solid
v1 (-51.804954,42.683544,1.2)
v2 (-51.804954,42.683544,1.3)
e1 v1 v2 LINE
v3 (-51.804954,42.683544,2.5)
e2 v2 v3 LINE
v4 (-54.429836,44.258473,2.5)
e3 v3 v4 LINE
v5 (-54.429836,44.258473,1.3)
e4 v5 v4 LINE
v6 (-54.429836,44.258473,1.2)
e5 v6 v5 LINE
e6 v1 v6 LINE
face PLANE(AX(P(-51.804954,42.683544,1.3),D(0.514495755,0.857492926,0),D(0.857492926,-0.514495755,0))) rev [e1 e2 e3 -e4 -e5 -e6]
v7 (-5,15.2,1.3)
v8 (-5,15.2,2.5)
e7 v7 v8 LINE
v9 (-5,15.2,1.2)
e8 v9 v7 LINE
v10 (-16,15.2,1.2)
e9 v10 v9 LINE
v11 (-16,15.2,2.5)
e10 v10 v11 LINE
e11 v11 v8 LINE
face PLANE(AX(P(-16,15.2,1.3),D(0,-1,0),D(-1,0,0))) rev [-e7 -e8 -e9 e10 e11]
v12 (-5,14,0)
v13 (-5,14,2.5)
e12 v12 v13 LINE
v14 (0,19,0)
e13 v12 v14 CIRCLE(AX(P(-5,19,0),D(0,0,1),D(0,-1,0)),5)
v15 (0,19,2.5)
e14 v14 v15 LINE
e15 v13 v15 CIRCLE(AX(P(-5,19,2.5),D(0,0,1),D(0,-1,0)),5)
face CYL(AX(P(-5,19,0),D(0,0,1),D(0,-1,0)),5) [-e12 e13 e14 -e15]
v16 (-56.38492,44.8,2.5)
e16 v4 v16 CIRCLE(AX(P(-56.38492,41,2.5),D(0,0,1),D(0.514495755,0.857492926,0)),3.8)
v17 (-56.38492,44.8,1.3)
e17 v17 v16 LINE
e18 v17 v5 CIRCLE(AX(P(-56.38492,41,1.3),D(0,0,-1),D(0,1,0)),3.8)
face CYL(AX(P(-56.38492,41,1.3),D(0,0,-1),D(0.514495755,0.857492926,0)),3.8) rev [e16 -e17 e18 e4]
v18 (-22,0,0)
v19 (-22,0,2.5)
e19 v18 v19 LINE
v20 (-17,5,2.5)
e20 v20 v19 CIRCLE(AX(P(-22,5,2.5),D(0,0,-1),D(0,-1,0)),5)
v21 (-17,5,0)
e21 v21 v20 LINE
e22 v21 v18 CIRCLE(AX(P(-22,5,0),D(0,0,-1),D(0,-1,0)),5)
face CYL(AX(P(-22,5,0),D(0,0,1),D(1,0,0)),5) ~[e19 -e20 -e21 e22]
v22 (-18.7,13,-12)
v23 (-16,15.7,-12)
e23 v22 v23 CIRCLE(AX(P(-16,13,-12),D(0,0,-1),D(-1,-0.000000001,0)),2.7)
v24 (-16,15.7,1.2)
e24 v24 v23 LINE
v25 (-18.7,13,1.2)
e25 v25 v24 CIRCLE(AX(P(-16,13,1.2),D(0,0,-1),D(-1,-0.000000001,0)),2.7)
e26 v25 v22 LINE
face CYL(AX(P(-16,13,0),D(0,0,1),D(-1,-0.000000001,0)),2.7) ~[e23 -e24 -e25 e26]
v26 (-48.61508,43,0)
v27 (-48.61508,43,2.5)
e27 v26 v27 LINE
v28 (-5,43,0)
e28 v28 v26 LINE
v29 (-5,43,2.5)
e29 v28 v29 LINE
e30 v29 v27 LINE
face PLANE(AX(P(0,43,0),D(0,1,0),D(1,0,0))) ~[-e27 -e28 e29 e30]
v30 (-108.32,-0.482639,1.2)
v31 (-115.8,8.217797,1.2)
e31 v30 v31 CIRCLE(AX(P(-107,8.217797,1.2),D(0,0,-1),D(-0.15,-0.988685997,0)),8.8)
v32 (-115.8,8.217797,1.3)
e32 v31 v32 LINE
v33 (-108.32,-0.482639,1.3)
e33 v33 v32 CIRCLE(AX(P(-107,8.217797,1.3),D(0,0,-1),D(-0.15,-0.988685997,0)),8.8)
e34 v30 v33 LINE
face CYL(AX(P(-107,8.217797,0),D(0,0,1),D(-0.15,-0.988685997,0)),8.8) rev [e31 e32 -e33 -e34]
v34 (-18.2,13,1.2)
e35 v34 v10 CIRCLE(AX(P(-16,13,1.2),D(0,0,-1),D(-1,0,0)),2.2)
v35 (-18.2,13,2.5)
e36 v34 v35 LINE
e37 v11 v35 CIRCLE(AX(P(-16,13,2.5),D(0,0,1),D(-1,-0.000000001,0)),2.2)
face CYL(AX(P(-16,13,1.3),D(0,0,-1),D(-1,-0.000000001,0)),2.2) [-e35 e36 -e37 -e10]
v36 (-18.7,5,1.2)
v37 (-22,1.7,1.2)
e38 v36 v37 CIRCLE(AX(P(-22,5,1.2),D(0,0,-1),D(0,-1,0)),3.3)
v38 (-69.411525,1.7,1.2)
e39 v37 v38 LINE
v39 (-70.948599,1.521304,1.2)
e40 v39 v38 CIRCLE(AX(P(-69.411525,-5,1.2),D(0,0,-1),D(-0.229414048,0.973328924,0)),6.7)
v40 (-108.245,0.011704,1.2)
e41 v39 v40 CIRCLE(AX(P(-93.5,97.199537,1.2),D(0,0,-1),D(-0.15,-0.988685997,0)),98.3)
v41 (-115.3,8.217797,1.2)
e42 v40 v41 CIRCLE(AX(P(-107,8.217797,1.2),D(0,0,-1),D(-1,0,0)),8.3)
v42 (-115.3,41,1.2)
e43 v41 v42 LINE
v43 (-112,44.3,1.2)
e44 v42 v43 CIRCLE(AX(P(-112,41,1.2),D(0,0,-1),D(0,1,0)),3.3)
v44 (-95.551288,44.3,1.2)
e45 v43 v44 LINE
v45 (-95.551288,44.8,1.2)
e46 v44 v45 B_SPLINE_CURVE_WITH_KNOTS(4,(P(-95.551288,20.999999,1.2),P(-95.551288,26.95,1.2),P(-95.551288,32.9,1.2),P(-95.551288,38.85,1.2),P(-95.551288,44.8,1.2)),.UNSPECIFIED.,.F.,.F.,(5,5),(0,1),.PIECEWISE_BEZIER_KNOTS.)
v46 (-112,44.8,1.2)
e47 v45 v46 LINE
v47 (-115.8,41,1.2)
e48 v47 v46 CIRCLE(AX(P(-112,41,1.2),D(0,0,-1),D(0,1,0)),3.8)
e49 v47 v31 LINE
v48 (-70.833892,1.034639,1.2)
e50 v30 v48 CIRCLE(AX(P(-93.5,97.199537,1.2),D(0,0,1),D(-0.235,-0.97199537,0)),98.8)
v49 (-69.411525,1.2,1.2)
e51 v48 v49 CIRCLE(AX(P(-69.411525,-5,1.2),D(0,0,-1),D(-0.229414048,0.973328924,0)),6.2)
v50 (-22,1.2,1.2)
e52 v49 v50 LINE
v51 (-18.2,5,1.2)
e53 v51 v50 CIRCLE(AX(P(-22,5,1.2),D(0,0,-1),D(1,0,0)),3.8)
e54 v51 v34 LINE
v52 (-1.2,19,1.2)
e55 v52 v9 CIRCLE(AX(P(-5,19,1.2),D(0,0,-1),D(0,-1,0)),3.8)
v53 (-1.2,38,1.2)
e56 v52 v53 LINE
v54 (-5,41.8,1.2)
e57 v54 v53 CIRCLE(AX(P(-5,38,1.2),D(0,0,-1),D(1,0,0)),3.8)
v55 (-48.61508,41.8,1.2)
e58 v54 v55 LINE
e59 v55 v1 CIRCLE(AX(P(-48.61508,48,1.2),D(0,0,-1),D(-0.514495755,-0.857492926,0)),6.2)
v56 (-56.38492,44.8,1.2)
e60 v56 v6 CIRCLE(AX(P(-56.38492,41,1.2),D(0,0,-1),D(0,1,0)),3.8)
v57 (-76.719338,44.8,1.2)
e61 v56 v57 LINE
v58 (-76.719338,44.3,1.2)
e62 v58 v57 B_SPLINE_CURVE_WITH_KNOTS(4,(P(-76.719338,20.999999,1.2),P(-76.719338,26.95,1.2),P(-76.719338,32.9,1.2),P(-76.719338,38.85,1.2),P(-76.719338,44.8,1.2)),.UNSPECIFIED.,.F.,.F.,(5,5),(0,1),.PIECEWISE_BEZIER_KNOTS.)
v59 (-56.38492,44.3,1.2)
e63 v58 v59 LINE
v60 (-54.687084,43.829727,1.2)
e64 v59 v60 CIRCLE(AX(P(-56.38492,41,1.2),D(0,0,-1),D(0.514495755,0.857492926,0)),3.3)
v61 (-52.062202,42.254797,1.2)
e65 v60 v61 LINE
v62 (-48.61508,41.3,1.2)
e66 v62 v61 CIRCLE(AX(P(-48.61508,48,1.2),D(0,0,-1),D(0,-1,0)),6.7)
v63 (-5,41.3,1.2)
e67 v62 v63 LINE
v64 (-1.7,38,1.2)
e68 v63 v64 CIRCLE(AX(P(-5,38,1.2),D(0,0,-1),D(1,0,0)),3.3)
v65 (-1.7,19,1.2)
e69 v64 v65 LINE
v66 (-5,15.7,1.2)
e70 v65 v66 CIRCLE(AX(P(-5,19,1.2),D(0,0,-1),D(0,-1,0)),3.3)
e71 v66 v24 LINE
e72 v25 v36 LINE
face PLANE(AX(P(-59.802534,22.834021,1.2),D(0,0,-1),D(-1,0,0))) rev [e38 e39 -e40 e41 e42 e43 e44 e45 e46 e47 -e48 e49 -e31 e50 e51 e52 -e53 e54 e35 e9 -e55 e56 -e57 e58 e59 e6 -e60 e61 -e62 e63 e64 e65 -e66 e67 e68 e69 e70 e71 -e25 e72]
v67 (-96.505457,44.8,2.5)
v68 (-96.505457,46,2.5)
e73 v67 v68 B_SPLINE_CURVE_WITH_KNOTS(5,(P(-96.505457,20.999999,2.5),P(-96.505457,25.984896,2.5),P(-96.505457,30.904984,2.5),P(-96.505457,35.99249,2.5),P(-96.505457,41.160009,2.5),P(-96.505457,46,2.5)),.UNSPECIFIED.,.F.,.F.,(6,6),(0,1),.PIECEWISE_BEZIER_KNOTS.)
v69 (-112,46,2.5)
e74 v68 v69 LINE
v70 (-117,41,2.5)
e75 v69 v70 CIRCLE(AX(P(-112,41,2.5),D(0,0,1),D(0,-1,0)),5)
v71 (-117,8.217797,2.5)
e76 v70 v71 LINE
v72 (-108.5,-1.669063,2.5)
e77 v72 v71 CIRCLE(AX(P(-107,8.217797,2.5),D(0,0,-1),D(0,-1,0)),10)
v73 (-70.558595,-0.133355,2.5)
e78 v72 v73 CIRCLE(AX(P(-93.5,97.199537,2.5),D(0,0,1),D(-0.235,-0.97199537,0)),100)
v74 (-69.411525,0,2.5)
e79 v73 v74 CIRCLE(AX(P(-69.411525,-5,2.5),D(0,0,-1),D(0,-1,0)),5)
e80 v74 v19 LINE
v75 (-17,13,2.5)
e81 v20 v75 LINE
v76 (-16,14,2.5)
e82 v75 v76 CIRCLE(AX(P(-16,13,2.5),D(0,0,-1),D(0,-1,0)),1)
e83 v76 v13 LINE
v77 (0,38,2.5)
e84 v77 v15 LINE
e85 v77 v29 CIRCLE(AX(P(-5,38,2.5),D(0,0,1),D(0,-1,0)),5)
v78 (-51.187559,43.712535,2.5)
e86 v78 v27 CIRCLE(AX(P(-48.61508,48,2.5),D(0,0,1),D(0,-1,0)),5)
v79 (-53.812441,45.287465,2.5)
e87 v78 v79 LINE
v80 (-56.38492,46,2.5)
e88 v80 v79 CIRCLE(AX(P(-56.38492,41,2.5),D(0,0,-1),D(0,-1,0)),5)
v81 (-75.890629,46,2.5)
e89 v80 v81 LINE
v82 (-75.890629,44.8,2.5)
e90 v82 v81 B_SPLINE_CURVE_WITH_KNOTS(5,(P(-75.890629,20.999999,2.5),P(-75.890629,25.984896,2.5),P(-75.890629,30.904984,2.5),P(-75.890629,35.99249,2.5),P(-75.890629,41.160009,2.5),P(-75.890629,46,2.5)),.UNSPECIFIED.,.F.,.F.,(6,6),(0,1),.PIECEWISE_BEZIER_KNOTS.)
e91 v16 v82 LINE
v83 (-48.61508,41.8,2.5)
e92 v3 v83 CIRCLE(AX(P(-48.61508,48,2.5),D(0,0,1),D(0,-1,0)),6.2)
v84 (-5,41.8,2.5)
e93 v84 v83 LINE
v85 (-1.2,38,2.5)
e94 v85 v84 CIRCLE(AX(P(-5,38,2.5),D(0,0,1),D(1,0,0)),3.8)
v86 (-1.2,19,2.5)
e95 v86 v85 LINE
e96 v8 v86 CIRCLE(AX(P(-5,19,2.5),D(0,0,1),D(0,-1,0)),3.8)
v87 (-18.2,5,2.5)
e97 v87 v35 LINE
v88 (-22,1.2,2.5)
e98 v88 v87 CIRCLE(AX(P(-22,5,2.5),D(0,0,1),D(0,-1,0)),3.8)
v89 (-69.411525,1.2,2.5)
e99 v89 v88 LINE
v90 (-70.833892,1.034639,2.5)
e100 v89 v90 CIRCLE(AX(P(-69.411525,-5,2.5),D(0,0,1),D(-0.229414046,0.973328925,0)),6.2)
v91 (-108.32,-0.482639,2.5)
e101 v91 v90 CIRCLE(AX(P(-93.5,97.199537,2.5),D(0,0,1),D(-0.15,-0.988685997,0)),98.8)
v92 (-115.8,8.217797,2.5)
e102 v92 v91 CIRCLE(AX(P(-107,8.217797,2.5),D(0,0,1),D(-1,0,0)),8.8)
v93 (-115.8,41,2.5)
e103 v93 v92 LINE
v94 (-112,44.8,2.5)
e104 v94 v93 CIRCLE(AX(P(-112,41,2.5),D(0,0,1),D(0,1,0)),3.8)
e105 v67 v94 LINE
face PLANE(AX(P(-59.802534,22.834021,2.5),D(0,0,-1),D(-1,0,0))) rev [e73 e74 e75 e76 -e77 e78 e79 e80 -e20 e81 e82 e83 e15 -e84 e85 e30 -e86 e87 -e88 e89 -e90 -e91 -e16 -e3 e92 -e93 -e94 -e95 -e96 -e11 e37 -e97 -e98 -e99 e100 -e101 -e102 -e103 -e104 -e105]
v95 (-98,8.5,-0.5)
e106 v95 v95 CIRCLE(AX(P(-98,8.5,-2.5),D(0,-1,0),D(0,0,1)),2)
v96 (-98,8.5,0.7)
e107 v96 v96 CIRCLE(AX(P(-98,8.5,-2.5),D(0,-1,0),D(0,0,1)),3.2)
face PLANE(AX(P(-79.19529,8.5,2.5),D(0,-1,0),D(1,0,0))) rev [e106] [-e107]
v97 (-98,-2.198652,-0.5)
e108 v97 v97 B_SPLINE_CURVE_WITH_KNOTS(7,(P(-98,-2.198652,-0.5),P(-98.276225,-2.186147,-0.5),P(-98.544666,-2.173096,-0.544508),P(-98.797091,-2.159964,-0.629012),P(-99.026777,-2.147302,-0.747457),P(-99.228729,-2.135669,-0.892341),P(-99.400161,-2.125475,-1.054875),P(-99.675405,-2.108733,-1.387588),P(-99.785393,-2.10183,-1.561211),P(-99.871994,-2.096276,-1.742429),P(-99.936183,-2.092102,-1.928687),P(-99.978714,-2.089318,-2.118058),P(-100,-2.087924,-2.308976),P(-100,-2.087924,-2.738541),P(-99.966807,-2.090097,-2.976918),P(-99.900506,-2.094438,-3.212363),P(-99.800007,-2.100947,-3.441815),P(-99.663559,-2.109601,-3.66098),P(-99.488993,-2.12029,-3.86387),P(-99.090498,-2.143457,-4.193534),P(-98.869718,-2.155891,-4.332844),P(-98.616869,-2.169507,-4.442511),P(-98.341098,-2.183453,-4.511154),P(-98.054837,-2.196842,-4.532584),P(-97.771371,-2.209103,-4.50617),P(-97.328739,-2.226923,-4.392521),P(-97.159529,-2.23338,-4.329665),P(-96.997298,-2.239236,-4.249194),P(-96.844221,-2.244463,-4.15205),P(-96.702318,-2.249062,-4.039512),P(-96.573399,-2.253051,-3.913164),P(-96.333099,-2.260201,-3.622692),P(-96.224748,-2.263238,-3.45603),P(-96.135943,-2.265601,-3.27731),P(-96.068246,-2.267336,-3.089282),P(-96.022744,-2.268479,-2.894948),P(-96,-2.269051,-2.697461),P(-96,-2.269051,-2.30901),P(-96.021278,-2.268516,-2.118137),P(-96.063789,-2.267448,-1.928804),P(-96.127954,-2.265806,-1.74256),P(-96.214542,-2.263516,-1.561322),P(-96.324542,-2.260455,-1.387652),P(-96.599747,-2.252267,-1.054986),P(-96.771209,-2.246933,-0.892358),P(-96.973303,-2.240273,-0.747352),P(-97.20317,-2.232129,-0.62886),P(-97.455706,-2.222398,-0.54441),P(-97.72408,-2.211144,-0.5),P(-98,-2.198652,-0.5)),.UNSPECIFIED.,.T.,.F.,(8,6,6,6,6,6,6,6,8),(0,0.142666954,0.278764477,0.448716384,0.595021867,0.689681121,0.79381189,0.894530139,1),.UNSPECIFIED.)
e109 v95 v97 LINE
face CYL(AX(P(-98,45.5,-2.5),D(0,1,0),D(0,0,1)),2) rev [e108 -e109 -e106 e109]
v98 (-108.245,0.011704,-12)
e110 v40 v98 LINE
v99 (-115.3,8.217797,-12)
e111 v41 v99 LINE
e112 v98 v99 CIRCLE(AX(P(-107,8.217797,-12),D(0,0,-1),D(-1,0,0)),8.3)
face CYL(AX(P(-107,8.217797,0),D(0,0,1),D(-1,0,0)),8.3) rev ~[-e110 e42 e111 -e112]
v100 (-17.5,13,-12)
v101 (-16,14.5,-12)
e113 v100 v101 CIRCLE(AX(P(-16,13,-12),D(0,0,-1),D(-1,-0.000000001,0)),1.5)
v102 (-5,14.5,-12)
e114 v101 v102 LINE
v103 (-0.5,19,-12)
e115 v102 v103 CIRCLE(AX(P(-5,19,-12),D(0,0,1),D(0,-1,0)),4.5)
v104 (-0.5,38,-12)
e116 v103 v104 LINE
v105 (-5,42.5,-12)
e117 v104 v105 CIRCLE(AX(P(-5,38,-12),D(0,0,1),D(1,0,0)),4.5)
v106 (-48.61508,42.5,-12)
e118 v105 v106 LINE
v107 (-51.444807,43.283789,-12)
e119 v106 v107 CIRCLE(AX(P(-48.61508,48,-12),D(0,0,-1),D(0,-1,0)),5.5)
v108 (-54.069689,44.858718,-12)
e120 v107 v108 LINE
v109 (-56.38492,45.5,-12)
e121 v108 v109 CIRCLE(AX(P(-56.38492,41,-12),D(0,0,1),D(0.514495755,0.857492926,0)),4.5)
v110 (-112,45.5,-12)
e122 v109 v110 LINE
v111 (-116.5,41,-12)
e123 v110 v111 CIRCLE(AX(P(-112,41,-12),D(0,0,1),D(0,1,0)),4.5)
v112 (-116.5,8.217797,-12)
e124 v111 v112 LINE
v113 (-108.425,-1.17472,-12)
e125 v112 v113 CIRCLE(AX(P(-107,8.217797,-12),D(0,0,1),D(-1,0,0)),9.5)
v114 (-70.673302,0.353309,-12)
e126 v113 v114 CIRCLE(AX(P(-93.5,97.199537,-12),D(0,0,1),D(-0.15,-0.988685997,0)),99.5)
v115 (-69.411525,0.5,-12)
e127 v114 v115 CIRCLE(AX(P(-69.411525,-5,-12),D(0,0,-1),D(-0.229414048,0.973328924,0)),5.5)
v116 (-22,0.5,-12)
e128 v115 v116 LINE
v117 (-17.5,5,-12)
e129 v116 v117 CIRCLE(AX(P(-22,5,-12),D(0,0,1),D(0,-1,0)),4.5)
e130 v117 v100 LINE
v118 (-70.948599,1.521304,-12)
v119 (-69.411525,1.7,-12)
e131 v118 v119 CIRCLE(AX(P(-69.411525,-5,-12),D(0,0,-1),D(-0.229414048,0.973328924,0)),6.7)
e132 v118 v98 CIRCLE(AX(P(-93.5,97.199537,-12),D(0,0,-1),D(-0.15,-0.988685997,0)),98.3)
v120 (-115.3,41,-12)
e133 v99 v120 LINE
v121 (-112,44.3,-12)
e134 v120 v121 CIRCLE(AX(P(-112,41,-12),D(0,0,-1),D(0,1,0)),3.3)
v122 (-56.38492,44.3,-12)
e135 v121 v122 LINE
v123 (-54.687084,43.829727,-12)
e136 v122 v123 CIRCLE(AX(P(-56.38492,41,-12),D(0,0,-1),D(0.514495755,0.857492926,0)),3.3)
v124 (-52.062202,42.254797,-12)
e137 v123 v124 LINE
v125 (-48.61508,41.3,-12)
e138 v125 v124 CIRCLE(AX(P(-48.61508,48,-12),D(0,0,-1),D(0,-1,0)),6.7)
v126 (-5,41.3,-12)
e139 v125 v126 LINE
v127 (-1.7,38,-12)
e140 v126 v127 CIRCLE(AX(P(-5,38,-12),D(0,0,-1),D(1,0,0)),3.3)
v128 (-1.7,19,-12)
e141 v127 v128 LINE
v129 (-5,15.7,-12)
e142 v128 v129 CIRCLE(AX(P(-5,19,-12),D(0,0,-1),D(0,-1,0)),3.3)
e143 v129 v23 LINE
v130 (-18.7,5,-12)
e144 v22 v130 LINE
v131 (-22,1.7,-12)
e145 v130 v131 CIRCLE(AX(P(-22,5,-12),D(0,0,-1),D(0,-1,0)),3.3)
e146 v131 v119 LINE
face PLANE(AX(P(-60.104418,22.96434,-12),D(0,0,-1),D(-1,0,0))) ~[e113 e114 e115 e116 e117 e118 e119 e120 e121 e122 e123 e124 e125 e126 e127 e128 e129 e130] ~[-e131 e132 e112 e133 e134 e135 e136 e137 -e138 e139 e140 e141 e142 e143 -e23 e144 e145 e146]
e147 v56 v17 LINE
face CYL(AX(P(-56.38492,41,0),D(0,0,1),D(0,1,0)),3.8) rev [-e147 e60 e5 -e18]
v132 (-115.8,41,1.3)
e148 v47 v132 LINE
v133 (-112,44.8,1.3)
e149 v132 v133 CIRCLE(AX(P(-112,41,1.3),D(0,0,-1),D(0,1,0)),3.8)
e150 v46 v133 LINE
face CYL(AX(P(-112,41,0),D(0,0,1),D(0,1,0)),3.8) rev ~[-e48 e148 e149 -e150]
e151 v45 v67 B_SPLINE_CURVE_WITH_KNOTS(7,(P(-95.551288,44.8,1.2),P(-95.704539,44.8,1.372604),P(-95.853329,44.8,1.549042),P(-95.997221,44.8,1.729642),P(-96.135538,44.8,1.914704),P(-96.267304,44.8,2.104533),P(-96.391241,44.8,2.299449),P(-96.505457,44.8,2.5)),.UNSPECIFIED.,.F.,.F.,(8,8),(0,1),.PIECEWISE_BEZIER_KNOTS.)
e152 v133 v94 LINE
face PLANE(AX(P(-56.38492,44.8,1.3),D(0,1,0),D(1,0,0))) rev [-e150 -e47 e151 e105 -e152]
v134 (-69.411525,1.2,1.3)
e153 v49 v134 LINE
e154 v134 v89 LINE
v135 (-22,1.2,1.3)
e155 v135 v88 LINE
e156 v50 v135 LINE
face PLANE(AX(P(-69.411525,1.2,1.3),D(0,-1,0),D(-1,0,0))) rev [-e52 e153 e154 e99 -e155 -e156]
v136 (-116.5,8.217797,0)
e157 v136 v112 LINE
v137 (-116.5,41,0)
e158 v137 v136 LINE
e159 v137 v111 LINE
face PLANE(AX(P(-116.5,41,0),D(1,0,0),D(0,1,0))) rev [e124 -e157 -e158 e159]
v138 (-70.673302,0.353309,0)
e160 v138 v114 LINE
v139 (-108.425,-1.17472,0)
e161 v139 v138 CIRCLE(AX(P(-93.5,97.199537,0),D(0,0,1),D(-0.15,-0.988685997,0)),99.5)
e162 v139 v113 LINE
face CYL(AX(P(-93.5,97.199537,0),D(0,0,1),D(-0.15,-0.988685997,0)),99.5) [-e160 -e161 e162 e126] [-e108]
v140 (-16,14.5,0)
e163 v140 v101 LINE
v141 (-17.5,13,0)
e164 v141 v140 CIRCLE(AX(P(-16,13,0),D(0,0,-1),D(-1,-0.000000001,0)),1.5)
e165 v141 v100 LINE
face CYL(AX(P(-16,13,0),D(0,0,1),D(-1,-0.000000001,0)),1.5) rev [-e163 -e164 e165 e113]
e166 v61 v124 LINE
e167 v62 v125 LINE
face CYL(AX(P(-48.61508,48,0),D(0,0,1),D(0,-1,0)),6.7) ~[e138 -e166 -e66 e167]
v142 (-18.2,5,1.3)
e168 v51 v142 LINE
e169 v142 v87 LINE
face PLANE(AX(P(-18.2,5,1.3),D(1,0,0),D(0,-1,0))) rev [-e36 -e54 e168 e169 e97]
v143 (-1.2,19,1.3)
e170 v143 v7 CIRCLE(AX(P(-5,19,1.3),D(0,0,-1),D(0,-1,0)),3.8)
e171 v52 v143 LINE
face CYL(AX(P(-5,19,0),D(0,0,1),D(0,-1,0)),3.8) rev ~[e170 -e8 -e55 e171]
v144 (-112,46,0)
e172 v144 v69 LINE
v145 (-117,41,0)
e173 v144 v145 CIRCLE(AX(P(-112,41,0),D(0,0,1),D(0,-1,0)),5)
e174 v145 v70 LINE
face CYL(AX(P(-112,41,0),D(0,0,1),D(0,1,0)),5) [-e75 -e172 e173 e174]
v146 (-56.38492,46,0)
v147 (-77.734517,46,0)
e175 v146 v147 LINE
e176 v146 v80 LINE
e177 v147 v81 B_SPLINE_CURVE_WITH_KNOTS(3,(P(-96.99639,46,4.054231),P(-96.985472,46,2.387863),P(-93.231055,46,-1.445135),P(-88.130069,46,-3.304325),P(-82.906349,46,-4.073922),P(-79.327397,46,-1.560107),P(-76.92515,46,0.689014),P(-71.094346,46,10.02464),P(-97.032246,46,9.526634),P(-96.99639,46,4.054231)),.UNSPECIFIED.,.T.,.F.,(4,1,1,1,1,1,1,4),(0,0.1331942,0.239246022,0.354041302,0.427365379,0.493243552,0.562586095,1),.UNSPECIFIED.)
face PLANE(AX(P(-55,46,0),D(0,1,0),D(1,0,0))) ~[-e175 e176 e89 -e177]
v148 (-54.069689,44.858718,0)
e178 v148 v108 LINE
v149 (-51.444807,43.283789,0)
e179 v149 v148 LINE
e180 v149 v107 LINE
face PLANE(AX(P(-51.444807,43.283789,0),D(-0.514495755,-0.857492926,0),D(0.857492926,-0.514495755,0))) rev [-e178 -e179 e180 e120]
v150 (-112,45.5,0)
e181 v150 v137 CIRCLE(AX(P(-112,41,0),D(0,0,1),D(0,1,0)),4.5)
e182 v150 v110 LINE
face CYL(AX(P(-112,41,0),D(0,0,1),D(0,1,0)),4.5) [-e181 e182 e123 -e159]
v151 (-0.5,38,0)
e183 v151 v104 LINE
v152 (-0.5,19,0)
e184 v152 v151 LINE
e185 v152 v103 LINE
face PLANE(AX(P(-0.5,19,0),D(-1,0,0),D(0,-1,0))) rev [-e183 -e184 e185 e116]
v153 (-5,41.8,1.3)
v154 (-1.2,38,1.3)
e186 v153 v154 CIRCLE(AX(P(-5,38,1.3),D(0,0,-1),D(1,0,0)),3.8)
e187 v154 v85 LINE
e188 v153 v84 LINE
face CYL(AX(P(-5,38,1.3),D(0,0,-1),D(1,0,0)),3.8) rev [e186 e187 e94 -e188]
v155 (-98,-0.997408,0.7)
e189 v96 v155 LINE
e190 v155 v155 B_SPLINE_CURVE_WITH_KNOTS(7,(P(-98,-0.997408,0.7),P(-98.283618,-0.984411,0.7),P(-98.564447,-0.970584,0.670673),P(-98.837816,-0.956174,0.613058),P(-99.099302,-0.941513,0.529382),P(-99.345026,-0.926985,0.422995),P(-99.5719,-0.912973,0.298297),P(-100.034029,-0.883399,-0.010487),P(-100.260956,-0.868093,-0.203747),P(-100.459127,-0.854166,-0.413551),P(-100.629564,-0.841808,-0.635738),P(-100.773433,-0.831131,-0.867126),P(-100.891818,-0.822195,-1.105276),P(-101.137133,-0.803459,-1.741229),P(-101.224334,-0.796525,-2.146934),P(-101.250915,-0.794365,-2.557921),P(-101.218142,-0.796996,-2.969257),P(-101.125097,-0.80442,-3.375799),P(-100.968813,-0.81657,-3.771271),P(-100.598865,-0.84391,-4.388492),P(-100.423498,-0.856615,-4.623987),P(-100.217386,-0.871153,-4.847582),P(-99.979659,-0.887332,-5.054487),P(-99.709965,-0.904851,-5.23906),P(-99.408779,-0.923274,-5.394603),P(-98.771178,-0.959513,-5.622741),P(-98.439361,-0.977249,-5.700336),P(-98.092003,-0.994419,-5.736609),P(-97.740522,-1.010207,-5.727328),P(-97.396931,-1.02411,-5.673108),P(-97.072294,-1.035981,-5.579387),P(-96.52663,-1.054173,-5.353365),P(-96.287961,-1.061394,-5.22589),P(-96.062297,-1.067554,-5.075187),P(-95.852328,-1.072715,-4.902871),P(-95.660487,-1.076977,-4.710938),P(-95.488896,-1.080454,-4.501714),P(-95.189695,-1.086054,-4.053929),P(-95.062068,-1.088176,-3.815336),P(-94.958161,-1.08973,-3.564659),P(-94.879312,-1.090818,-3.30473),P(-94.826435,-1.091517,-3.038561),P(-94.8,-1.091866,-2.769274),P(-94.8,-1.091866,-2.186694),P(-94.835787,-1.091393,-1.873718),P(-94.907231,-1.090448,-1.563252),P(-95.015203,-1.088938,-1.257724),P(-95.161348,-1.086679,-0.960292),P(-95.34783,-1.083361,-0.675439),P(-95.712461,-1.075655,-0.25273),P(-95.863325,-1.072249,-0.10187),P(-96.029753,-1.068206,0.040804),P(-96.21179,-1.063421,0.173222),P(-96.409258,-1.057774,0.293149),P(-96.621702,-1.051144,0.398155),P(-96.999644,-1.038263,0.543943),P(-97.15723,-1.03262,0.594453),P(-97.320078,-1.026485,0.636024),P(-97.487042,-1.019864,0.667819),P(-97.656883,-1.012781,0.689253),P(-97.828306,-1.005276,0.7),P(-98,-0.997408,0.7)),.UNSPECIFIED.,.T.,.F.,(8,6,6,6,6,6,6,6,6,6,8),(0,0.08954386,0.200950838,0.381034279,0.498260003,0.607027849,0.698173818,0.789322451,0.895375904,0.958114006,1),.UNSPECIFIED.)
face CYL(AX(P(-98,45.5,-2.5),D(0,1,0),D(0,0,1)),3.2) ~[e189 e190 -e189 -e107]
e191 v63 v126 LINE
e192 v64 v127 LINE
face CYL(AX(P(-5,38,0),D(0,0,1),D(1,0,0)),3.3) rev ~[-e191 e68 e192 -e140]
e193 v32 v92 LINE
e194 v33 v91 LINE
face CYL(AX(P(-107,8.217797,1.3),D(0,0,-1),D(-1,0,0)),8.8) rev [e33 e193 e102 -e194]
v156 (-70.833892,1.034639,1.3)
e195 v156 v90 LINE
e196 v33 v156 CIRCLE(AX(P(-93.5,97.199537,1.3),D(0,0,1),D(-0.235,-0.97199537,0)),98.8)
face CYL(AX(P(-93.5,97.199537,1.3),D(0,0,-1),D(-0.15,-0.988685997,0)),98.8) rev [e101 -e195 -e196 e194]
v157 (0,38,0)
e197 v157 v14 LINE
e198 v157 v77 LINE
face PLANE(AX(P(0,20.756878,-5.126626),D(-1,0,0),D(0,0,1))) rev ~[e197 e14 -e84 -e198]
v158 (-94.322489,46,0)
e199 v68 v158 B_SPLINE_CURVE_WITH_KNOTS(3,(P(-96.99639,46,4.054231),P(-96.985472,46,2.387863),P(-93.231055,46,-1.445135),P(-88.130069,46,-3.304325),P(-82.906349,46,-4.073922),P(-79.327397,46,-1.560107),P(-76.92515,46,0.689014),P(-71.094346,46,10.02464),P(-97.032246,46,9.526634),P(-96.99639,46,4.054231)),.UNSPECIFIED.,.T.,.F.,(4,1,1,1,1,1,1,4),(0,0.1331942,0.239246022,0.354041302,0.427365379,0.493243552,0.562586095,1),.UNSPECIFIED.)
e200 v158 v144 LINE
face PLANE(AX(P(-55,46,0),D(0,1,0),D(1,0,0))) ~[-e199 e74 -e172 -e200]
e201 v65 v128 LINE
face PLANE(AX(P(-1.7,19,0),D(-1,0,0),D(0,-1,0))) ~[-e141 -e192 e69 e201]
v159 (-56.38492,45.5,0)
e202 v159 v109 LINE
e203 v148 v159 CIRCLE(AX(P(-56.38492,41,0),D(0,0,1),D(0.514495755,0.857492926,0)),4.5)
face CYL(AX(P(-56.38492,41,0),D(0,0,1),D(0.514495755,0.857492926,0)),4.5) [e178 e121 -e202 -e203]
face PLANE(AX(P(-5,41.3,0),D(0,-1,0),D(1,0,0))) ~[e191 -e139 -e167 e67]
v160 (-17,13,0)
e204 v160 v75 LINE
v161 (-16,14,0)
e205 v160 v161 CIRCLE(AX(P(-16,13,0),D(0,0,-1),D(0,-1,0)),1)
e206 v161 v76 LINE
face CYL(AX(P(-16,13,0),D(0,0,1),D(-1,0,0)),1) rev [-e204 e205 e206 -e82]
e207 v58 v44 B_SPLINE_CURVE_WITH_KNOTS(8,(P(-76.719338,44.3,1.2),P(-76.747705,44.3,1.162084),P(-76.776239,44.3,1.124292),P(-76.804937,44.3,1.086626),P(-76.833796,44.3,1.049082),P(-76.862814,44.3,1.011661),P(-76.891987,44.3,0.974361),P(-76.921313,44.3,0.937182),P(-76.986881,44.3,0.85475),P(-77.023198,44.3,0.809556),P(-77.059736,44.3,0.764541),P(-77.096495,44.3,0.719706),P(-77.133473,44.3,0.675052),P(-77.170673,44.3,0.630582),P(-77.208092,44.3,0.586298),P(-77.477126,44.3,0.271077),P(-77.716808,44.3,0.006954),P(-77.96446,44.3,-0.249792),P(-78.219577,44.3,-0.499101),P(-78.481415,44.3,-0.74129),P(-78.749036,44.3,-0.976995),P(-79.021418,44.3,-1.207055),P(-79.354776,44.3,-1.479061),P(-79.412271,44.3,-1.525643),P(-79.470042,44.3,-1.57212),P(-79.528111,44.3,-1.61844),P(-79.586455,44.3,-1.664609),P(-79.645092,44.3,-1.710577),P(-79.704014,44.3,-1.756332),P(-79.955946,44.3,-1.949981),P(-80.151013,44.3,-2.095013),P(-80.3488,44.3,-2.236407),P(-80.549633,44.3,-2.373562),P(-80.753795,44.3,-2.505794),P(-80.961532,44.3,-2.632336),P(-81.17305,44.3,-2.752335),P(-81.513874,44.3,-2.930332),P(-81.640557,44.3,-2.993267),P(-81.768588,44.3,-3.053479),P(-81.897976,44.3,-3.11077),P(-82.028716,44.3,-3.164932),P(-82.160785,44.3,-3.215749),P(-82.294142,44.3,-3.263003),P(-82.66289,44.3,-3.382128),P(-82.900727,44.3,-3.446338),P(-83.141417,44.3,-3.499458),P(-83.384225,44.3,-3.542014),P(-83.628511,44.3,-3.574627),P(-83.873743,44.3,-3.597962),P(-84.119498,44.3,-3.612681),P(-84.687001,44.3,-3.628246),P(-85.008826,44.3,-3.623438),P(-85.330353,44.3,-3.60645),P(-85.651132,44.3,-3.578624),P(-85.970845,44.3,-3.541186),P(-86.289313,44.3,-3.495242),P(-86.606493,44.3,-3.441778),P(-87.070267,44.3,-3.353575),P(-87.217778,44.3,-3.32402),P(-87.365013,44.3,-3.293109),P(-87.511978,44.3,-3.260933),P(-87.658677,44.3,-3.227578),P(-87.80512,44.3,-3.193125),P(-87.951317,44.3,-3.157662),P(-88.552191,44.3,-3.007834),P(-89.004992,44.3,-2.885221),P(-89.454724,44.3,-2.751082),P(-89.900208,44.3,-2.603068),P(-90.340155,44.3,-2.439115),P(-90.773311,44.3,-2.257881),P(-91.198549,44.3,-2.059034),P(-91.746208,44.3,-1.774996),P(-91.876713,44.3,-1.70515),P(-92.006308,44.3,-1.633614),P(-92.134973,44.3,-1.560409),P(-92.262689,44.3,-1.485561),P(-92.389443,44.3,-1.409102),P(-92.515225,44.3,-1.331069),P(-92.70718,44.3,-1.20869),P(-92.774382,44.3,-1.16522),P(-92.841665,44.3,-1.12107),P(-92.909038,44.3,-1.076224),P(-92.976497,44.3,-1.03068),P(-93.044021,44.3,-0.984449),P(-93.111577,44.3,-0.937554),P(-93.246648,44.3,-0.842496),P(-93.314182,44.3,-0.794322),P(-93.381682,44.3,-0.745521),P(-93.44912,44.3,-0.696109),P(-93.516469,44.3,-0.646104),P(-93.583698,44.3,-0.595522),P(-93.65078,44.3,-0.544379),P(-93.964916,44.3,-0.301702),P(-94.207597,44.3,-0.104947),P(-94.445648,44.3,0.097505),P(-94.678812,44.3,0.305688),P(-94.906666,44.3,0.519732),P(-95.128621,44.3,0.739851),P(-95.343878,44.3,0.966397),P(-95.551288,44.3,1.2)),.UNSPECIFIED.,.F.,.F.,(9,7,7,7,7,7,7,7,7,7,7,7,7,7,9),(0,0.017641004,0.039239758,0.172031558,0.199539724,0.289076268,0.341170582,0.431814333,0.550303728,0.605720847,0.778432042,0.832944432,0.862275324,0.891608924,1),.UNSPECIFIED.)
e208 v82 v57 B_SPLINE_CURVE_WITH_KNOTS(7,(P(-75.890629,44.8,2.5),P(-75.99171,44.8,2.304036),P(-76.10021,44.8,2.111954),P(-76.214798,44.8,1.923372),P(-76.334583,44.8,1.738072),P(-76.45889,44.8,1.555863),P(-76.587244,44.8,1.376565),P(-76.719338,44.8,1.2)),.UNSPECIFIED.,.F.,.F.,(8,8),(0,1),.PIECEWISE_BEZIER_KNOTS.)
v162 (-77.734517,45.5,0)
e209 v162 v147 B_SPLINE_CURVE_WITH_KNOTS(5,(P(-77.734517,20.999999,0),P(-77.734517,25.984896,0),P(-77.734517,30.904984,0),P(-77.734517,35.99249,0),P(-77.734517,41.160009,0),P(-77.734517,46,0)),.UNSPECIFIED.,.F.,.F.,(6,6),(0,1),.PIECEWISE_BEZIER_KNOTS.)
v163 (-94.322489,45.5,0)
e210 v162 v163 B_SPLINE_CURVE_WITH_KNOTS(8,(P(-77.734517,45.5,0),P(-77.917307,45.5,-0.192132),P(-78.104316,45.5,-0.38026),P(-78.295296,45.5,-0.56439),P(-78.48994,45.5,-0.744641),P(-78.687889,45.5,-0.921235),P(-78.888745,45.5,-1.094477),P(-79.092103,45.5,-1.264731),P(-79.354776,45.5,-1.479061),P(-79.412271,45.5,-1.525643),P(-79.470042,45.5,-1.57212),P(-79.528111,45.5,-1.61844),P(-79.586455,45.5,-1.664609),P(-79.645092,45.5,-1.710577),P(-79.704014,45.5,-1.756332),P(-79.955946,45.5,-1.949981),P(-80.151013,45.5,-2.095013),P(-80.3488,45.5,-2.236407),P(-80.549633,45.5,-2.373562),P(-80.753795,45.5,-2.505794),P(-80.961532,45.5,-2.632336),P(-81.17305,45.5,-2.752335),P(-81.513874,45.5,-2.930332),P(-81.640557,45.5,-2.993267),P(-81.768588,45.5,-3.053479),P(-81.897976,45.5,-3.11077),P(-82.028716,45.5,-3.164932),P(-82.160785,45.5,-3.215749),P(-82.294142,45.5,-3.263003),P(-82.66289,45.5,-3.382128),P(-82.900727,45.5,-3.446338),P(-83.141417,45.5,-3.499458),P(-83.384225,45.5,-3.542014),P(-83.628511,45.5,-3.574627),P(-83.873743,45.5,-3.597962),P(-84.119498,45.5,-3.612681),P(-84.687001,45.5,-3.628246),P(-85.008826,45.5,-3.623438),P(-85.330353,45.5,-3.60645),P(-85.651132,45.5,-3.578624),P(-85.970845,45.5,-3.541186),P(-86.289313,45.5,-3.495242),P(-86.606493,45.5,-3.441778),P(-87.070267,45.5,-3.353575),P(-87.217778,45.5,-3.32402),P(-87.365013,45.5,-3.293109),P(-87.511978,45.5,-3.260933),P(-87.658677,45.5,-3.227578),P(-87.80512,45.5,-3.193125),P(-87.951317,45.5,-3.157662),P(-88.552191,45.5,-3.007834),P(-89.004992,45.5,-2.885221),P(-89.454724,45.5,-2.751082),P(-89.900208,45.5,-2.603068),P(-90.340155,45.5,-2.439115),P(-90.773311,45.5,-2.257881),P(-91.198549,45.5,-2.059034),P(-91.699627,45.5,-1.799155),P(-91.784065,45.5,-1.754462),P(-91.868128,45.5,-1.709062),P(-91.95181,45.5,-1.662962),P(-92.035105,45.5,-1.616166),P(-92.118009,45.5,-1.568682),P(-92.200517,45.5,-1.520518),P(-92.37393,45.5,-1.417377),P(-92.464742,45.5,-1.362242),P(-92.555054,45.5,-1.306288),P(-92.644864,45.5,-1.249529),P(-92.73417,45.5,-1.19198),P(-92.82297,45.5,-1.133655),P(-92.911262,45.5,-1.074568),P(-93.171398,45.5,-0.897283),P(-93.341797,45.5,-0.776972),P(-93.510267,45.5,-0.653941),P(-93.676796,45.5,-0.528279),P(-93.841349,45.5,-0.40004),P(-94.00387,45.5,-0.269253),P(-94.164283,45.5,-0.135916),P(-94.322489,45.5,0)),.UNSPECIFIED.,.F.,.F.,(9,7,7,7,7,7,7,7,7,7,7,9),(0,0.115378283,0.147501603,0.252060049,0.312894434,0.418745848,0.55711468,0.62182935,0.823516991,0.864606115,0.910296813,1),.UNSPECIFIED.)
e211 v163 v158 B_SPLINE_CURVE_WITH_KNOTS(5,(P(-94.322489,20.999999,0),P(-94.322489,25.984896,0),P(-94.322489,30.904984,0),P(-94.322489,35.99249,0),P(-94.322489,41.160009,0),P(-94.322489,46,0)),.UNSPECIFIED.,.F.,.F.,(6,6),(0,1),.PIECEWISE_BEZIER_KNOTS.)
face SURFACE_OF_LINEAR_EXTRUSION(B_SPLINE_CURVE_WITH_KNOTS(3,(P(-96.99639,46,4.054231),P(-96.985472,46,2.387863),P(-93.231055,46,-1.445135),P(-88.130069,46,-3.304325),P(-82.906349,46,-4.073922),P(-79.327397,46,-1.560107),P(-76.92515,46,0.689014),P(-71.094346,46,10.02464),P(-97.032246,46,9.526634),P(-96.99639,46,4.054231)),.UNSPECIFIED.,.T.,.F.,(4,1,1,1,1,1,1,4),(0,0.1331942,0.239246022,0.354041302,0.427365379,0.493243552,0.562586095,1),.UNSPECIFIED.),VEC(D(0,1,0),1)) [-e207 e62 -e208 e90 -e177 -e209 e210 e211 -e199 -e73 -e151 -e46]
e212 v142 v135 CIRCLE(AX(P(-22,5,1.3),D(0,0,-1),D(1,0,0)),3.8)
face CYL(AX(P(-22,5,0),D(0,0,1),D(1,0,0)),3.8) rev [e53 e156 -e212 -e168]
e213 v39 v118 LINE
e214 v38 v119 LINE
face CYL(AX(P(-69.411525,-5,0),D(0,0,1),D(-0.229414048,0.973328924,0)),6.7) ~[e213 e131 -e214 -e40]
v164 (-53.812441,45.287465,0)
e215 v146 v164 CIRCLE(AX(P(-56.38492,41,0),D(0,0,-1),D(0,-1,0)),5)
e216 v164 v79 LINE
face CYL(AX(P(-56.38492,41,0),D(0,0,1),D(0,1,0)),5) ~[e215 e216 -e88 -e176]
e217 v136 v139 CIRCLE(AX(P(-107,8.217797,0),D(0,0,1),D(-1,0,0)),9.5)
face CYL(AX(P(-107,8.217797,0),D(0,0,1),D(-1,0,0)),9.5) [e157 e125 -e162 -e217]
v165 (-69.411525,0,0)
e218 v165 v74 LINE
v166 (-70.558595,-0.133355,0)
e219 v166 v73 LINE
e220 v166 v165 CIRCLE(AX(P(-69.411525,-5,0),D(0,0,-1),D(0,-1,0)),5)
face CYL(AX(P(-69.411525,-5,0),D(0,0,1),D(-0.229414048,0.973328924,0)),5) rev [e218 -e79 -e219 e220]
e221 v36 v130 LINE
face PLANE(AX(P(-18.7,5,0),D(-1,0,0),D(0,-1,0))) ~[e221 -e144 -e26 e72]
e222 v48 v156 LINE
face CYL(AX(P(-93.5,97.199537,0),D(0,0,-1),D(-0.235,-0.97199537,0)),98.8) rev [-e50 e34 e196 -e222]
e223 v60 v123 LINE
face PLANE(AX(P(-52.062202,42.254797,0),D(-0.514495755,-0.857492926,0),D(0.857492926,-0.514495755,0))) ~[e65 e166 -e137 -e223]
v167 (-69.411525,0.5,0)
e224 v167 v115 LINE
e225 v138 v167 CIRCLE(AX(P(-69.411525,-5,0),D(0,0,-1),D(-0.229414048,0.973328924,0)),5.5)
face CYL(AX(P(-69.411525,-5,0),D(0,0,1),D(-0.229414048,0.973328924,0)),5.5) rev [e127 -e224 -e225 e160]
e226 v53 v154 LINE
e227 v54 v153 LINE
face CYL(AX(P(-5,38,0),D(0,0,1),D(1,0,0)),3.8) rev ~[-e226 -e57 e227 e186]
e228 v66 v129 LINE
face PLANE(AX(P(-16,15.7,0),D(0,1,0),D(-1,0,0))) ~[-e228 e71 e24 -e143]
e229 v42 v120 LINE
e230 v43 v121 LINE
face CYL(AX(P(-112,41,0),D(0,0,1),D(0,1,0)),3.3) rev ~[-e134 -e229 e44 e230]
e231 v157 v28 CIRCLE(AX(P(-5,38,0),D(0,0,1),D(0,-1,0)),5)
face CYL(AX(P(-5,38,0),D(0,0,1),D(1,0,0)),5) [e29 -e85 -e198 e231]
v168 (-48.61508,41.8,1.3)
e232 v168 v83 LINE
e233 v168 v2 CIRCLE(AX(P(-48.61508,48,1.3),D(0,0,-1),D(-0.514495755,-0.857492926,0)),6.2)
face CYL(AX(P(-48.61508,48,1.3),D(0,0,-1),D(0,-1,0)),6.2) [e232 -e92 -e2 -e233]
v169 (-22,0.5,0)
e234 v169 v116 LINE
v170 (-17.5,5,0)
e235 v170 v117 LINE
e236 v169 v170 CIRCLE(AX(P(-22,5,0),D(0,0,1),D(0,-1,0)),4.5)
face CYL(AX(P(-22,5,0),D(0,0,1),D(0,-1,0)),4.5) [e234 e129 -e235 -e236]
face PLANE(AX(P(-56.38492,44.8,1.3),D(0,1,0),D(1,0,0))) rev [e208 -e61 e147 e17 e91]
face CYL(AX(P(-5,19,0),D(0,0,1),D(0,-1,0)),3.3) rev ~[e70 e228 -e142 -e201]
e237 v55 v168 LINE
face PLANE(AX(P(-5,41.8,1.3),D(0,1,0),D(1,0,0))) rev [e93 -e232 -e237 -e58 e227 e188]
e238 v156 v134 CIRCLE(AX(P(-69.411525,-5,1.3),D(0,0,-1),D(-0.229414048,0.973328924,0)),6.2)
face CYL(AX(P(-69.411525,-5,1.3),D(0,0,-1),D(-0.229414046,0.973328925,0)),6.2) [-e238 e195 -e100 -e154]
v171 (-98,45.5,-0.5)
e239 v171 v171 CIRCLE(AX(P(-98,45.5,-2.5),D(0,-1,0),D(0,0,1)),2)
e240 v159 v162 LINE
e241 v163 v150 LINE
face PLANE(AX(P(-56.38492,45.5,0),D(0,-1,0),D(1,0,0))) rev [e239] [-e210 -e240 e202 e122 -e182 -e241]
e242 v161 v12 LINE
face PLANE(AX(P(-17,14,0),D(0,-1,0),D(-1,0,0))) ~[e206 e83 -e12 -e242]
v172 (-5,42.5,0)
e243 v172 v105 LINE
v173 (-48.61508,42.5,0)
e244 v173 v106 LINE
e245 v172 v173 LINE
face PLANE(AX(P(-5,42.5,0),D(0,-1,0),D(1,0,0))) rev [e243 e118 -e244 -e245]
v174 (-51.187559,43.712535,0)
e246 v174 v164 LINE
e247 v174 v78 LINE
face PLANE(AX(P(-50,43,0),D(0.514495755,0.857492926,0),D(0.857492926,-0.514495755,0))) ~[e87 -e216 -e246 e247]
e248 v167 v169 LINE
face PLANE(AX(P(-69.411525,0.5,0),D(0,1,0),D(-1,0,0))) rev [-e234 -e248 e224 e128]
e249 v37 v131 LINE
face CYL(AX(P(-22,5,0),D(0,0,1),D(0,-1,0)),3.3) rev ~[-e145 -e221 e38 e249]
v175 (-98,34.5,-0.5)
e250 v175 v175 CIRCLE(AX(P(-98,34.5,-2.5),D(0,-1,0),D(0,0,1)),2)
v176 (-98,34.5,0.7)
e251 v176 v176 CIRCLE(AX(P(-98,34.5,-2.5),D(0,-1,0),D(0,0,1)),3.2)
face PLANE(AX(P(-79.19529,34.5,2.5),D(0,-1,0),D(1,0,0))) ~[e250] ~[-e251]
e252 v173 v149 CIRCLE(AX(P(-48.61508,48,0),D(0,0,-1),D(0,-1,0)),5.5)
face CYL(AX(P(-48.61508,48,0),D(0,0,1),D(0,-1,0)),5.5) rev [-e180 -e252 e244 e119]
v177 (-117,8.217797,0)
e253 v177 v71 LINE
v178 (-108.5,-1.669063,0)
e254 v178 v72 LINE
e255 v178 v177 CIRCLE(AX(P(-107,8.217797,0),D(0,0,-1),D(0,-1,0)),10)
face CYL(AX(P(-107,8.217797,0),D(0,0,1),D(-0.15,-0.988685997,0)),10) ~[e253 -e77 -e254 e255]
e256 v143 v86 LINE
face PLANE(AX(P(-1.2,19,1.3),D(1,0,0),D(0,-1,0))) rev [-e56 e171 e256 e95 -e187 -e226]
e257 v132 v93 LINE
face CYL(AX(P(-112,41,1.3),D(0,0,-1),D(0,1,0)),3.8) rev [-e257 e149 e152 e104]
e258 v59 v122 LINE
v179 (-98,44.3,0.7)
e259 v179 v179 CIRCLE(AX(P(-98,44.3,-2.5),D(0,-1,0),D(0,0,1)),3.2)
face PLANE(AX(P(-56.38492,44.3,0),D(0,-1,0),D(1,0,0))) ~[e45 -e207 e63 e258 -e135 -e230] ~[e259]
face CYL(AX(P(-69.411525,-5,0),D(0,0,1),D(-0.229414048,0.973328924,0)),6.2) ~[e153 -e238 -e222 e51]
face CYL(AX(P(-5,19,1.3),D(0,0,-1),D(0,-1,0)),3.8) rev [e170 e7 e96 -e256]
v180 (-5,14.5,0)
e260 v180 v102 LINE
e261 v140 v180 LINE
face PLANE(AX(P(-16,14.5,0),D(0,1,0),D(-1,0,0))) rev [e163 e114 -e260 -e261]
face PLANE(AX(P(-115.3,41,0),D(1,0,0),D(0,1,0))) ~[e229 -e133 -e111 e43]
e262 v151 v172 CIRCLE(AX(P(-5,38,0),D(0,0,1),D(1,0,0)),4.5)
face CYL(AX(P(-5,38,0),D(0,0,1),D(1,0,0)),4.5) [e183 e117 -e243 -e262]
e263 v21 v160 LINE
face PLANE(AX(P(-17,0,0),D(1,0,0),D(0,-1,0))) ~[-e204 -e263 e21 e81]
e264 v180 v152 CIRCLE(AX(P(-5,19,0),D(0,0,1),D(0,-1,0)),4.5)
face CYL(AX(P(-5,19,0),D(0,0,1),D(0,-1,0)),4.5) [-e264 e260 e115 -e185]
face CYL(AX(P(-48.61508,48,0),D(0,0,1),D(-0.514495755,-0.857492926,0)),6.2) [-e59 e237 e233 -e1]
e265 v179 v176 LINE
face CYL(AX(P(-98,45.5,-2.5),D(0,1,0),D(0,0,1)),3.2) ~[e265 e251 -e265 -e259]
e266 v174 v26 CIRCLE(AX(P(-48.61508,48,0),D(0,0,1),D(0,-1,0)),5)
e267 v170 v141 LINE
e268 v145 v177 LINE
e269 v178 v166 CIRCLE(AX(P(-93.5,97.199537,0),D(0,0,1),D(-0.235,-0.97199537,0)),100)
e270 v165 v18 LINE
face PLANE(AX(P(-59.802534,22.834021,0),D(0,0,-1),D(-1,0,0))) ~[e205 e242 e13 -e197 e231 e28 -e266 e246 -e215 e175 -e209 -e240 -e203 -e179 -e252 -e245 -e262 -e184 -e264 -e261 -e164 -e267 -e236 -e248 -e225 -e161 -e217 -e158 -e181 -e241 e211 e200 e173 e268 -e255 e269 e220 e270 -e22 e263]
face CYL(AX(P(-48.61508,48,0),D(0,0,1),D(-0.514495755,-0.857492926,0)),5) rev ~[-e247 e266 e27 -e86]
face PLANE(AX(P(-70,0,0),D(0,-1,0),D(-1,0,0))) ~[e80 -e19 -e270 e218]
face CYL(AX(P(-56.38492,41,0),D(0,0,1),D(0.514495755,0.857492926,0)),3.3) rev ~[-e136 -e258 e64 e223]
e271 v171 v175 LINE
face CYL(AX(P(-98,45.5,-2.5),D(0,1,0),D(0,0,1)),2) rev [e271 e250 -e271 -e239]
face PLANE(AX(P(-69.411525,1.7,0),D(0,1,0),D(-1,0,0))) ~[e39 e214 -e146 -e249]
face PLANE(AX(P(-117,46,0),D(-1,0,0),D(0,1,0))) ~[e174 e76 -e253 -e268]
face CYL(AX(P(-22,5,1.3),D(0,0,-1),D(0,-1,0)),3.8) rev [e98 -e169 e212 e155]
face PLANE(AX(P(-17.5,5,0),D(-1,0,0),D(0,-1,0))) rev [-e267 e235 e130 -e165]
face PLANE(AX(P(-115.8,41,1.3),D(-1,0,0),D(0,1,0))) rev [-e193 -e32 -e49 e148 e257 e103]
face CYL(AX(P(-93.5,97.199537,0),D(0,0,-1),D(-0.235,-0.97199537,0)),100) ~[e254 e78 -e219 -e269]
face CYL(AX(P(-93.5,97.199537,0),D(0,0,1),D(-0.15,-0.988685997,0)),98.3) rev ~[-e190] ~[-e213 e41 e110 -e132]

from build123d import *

# Parameters (mm, degrees)
EXTRUDE_1_DEPTH     = 2.5
FILLET_1_R          = 5
FILLET_2_R          = 10
FILLET_3_R          = 5
FILLET_4_R          = 1
EXTRUDE_2_DEPTH     = 12
SKETCH_3_R          = 2
CUT_EXTRUDE_1_DEPTH = 128.145329142
SHELL_1_T           = -1.2
CUT_EXTRUDE_2_DEPTH = 127.419500089
SKETCH_5_W          = 29.908945793
SKETCH_5_H          = 26
CUT_EXTRUDE_3_DEPTH = 12
CUT_EXTRUDE_4_DEPTH = 25
SKETCH_7_W          = 24.826968957
SKETCH_7_H          = 53.255380941
CUT_EXTRUDE_5_DEPTH = 140


with BuildPart() as part:
    # 草图1 → 凸台-拉伸1 (new body)
    with BuildSketch(Plane.XY):
        with BuildLine():
            Line((17, 0), (17, 14))
            Line((17, 14), (0, 14))
            Line((0, 14), (0, 43))
            Line((0, 43), (50, 43))
            Line((50, 43), (55, 46))
            Line((55, 46), (117, 46))
            Line((117, 46), (117, 43))
            Line((117, 43), (117, 0))
            ThreePointArc((117, 0), (93.5, -2.800462964), (70, 0))
            Line((70, 0), (17, 0))
        make_face()
    extrude(amount=EXTRUDE_1_DEPTH)

    # 圆角1
    fillet_1_edges = [part.edges().sort_by_distance(p)[0] for p in [
        (17, 0, 1.25),
        (0, 14, 1.25),
        (0, 43, 1.25),
        (117, 46, 1.25),
    ]]
    fillet(fillet_1_edges, radius=FILLET_1_R)

    # 圆角2
    fillet_2_edges = [part.edges().sort_by_distance(p)[0] for p in [
        (117, 0, 1.25),
    ]]
    fillet(fillet_2_edges, radius=FILLET_2_R)

    # 圆角3
    fillet_3_edges = [part.edges().sort_by_distance(p)[0] for p in [
        (70, 0, 1.25),
        (50, 43, 1.25),
        (55, 46, 1.25),
    ]]
    fillet(fillet_3_edges, radius=FILLET_3_R)

    # 圆角4
    fillet_4_edges = [part.edges().sort_by_distance(p)[0] for p in [
        (17, 14, 1.25),
    ]]
    fillet(fillet_4_edges, radius=FILLET_4_R)

    # 草图2 → 凸台-拉伸2 (add)
    with BuildSketch(Plane(origin=(0, 0, 0), x_dir=(-1, 0, 0), z_dir=(0, 0, -1))):
        with BuildLine():
            Line((-51.44480683, 43.283788909), (-54.069688925, 44.858718166))
            ThreePointArc((-54.069688925, 44.858718166), (-55.183718706, 45.336717177), (-56.384919825, 45.5))
            Line((-56.384919825, 45.5), (-112, 45.5))
            ThreePointArc((-112, 45.5), (-115.181980515, 44.181980515), (-116.5, 41))
            Line((-116.5, 41), (-116.5, 8.217797336))
            ThreePointArc((-116.5, 8.217797336), (-114.203731672, 2.024555051), (-108.425, -1.174719632))
            ThreePointArc((-108.425, -1.174719632), (-89.475956652, -2.219058182), (-70.673302226, 0.353309083))
            ThreePointArc((-70.673302226, 0.353309083), (-70.04666276, 0.463204186), (-69.411524962, 0.5))
            Line((-69.411524962, 0.5), (-22, 0.5))
            ThreePointArc((-22, 0.5), (-18.818019485, 1.818019485), (-17.5, 5))
            Line((-17.5, 5), (-17.5, 13))
            ThreePointArc((-17.5, 13), (-17.060660172, 14.060660172), (-16, 14.5))
            Line((-16, 14.5), (-5, 14.5))
            ThreePointArc((-5, 14.5), (-1.818019485, 15.818019485), (-0.5, 19))
            Line((-0.5, 19), (-0.5, 38))
            ThreePointArc((-0.5, 38), (-1.818019485, 41.181980515), (-5, 42.5))
            Line((-5, 42.5), (-48.615080175, 42.5))
            ThreePointArc((-48.615080175, 42.5), (-50.083214876, 42.699567895), (-51.44480683, 43.283788909))
        make_face()
    extrude(amount=EXTRUDE_2_DEPTH)

    # 草图3 → 切除-拉伸1 (cut, through all)
    with BuildSketch(Plane(origin=(0, 45.5, 0), x_dir=(1, 0, 0), z_dir=(0, 1, 0))):
        with Locations(Location((98, 2.5, 0), (0, 0, 270))):
            Circle(SKETCH_3_R)
    extrude(amount=-CUT_EXTRUDE_1_DEPTH, mode=Mode.SUBTRACT)

    # 抽壳1
    shell_1_openings = [part.faces().sort_by_distance(p)[0] for p in [
        (62.500022263, 22.701927877, -12),
    ]]
    offset(amount=SHELL_1_T, openings=shell_1_openings, kind=Kind.INTERSECTION)

    # 草图4 → 切除-拉伸2 (cut, through all)
    with BuildSketch(Plane(origin=(0, 0, 1.3), x_dir=(-1, 0, 0), z_dir=(0, 0, -1))):
        with BuildLine():
            Line((-56.384919825, 44.8), (-112, 44.8))
            ThreePointArc((-112, 44.8), (-114.687005769, 43.687005769), (-115.8, 41))
            Line((-115.8, 41), (-115.8, 8.217797336))
            ThreePointArc((-115.8, 8.217797336), (-113.672930391, 2.48089922), (-108.32, -0.482639434))
            ThreePointArc((-108.32, -0.482639434), (-89.504266505, -1.519630879), (-70.83389206, 1.03463933))
            ThreePointArc((-70.83389206, 1.03463933), (-70.12749848, 1.158521082), (-69.411524962, 1.2))
            Line((-69.411524962, 1.2), (-22, 1.2))
            ThreePointArc((-22, 1.2), (-19.312994231, 2.312994231), (-18.2, 5))
            Line((-18.2, 5), (-18.2, 13))
            ThreePointArc((-18.2, 13), (-17.555634919, 14.555634919), (-16, 15.2))
            Line((-16, 15.2), (-5, 15.2))
            ThreePointArc((-5, 15.2), (-2.312994231, 16.312994231), (-1.2, 19))
            Line((-1.2, 19), (-1.2, 38))
            ThreePointArc((-1.2, 38), (-2.312994231, 40.687005769), (-5, 41.8))
            Line((-5, 41.8), (-48.615080175, 41.8))
            ThreePointArc((-48.615080175, 41.8), (-50.270068383, 42.024967445), (-51.804953859, 42.683543861))
            Line((-51.804953859, 42.683543861), (-54.429835954, 44.258473118))
            ThreePointArc((-54.429835954, 44.258473118), (-55.370572214, 44.662116727), (-56.384919825, 44.8))
        make_face()
    extrude(amount=-CUT_EXTRUDE_2_DEPTH, mode=Mode.SUBTRACT)

    # 草图5 → 切除-拉伸3 (cut)
    with BuildSketch(Plane.XY.offset(2.5)):
        with Locations((94.149762403, 21.5)):
            Rectangle(SKETCH_5_W, SKETCH_5_H)
    extrude(amount=-CUT_EXTRUDE_3_DEPTH, mode=Mode.SUBTRACT)

    # 草图6 → 切除-拉伸4 (cut)
    with BuildSketch(Plane(origin=(0, 46, 0), x_dir=(1, 0, 0), z_dir=(0, 1, 0))):
        with BuildLine():
            add(Edge.make_bspline(
                [(96.996390033, -4.054230802), (96.985471859, -2.387863189), (93.231055265, 1.445134708), (88.130068901, 3.304325139), (82.90634874, 4.073922209), (79.327396591, 1.560107395), (76.925149921, -0.689014198), (71.094345742, -10.024640193), (97.032245655, -9.526634001), (96.996390033, -4.054230802)],
                knots=[0, 0, 0, 0, 0.1331942, 0.239246022, 0.354041302, 0.427365379, 0.493243552, 0.562586095, 1, 1, 1, 1], degree=3))
        make_face()
    extrude(amount=-CUT_EXTRUDE_4_DEPTH, mode=Mode.SUBTRACT)

    # 镜向1: part across plane


with BuildPart() as part_1:
    add(part.part)
    add(part.part.mirror(Plane(origin=(0, 14, 2.5), x_dir=(0, 0, 1), z_dir=(1, 0, 0))))

    # 草图7 → 切除-拉伸5 (cut)
    with BuildSketch(Plane.ZY):
        with Locations((-5.12662644, 20.756877597)):
            Rectangle(SKETCH_7_W, SKETCH_7_H)
    extrude(amount=-CUT_EXTRUDE_5_DEPTH, mode=Mode.SUBTRACT)


solid = part_1.part
